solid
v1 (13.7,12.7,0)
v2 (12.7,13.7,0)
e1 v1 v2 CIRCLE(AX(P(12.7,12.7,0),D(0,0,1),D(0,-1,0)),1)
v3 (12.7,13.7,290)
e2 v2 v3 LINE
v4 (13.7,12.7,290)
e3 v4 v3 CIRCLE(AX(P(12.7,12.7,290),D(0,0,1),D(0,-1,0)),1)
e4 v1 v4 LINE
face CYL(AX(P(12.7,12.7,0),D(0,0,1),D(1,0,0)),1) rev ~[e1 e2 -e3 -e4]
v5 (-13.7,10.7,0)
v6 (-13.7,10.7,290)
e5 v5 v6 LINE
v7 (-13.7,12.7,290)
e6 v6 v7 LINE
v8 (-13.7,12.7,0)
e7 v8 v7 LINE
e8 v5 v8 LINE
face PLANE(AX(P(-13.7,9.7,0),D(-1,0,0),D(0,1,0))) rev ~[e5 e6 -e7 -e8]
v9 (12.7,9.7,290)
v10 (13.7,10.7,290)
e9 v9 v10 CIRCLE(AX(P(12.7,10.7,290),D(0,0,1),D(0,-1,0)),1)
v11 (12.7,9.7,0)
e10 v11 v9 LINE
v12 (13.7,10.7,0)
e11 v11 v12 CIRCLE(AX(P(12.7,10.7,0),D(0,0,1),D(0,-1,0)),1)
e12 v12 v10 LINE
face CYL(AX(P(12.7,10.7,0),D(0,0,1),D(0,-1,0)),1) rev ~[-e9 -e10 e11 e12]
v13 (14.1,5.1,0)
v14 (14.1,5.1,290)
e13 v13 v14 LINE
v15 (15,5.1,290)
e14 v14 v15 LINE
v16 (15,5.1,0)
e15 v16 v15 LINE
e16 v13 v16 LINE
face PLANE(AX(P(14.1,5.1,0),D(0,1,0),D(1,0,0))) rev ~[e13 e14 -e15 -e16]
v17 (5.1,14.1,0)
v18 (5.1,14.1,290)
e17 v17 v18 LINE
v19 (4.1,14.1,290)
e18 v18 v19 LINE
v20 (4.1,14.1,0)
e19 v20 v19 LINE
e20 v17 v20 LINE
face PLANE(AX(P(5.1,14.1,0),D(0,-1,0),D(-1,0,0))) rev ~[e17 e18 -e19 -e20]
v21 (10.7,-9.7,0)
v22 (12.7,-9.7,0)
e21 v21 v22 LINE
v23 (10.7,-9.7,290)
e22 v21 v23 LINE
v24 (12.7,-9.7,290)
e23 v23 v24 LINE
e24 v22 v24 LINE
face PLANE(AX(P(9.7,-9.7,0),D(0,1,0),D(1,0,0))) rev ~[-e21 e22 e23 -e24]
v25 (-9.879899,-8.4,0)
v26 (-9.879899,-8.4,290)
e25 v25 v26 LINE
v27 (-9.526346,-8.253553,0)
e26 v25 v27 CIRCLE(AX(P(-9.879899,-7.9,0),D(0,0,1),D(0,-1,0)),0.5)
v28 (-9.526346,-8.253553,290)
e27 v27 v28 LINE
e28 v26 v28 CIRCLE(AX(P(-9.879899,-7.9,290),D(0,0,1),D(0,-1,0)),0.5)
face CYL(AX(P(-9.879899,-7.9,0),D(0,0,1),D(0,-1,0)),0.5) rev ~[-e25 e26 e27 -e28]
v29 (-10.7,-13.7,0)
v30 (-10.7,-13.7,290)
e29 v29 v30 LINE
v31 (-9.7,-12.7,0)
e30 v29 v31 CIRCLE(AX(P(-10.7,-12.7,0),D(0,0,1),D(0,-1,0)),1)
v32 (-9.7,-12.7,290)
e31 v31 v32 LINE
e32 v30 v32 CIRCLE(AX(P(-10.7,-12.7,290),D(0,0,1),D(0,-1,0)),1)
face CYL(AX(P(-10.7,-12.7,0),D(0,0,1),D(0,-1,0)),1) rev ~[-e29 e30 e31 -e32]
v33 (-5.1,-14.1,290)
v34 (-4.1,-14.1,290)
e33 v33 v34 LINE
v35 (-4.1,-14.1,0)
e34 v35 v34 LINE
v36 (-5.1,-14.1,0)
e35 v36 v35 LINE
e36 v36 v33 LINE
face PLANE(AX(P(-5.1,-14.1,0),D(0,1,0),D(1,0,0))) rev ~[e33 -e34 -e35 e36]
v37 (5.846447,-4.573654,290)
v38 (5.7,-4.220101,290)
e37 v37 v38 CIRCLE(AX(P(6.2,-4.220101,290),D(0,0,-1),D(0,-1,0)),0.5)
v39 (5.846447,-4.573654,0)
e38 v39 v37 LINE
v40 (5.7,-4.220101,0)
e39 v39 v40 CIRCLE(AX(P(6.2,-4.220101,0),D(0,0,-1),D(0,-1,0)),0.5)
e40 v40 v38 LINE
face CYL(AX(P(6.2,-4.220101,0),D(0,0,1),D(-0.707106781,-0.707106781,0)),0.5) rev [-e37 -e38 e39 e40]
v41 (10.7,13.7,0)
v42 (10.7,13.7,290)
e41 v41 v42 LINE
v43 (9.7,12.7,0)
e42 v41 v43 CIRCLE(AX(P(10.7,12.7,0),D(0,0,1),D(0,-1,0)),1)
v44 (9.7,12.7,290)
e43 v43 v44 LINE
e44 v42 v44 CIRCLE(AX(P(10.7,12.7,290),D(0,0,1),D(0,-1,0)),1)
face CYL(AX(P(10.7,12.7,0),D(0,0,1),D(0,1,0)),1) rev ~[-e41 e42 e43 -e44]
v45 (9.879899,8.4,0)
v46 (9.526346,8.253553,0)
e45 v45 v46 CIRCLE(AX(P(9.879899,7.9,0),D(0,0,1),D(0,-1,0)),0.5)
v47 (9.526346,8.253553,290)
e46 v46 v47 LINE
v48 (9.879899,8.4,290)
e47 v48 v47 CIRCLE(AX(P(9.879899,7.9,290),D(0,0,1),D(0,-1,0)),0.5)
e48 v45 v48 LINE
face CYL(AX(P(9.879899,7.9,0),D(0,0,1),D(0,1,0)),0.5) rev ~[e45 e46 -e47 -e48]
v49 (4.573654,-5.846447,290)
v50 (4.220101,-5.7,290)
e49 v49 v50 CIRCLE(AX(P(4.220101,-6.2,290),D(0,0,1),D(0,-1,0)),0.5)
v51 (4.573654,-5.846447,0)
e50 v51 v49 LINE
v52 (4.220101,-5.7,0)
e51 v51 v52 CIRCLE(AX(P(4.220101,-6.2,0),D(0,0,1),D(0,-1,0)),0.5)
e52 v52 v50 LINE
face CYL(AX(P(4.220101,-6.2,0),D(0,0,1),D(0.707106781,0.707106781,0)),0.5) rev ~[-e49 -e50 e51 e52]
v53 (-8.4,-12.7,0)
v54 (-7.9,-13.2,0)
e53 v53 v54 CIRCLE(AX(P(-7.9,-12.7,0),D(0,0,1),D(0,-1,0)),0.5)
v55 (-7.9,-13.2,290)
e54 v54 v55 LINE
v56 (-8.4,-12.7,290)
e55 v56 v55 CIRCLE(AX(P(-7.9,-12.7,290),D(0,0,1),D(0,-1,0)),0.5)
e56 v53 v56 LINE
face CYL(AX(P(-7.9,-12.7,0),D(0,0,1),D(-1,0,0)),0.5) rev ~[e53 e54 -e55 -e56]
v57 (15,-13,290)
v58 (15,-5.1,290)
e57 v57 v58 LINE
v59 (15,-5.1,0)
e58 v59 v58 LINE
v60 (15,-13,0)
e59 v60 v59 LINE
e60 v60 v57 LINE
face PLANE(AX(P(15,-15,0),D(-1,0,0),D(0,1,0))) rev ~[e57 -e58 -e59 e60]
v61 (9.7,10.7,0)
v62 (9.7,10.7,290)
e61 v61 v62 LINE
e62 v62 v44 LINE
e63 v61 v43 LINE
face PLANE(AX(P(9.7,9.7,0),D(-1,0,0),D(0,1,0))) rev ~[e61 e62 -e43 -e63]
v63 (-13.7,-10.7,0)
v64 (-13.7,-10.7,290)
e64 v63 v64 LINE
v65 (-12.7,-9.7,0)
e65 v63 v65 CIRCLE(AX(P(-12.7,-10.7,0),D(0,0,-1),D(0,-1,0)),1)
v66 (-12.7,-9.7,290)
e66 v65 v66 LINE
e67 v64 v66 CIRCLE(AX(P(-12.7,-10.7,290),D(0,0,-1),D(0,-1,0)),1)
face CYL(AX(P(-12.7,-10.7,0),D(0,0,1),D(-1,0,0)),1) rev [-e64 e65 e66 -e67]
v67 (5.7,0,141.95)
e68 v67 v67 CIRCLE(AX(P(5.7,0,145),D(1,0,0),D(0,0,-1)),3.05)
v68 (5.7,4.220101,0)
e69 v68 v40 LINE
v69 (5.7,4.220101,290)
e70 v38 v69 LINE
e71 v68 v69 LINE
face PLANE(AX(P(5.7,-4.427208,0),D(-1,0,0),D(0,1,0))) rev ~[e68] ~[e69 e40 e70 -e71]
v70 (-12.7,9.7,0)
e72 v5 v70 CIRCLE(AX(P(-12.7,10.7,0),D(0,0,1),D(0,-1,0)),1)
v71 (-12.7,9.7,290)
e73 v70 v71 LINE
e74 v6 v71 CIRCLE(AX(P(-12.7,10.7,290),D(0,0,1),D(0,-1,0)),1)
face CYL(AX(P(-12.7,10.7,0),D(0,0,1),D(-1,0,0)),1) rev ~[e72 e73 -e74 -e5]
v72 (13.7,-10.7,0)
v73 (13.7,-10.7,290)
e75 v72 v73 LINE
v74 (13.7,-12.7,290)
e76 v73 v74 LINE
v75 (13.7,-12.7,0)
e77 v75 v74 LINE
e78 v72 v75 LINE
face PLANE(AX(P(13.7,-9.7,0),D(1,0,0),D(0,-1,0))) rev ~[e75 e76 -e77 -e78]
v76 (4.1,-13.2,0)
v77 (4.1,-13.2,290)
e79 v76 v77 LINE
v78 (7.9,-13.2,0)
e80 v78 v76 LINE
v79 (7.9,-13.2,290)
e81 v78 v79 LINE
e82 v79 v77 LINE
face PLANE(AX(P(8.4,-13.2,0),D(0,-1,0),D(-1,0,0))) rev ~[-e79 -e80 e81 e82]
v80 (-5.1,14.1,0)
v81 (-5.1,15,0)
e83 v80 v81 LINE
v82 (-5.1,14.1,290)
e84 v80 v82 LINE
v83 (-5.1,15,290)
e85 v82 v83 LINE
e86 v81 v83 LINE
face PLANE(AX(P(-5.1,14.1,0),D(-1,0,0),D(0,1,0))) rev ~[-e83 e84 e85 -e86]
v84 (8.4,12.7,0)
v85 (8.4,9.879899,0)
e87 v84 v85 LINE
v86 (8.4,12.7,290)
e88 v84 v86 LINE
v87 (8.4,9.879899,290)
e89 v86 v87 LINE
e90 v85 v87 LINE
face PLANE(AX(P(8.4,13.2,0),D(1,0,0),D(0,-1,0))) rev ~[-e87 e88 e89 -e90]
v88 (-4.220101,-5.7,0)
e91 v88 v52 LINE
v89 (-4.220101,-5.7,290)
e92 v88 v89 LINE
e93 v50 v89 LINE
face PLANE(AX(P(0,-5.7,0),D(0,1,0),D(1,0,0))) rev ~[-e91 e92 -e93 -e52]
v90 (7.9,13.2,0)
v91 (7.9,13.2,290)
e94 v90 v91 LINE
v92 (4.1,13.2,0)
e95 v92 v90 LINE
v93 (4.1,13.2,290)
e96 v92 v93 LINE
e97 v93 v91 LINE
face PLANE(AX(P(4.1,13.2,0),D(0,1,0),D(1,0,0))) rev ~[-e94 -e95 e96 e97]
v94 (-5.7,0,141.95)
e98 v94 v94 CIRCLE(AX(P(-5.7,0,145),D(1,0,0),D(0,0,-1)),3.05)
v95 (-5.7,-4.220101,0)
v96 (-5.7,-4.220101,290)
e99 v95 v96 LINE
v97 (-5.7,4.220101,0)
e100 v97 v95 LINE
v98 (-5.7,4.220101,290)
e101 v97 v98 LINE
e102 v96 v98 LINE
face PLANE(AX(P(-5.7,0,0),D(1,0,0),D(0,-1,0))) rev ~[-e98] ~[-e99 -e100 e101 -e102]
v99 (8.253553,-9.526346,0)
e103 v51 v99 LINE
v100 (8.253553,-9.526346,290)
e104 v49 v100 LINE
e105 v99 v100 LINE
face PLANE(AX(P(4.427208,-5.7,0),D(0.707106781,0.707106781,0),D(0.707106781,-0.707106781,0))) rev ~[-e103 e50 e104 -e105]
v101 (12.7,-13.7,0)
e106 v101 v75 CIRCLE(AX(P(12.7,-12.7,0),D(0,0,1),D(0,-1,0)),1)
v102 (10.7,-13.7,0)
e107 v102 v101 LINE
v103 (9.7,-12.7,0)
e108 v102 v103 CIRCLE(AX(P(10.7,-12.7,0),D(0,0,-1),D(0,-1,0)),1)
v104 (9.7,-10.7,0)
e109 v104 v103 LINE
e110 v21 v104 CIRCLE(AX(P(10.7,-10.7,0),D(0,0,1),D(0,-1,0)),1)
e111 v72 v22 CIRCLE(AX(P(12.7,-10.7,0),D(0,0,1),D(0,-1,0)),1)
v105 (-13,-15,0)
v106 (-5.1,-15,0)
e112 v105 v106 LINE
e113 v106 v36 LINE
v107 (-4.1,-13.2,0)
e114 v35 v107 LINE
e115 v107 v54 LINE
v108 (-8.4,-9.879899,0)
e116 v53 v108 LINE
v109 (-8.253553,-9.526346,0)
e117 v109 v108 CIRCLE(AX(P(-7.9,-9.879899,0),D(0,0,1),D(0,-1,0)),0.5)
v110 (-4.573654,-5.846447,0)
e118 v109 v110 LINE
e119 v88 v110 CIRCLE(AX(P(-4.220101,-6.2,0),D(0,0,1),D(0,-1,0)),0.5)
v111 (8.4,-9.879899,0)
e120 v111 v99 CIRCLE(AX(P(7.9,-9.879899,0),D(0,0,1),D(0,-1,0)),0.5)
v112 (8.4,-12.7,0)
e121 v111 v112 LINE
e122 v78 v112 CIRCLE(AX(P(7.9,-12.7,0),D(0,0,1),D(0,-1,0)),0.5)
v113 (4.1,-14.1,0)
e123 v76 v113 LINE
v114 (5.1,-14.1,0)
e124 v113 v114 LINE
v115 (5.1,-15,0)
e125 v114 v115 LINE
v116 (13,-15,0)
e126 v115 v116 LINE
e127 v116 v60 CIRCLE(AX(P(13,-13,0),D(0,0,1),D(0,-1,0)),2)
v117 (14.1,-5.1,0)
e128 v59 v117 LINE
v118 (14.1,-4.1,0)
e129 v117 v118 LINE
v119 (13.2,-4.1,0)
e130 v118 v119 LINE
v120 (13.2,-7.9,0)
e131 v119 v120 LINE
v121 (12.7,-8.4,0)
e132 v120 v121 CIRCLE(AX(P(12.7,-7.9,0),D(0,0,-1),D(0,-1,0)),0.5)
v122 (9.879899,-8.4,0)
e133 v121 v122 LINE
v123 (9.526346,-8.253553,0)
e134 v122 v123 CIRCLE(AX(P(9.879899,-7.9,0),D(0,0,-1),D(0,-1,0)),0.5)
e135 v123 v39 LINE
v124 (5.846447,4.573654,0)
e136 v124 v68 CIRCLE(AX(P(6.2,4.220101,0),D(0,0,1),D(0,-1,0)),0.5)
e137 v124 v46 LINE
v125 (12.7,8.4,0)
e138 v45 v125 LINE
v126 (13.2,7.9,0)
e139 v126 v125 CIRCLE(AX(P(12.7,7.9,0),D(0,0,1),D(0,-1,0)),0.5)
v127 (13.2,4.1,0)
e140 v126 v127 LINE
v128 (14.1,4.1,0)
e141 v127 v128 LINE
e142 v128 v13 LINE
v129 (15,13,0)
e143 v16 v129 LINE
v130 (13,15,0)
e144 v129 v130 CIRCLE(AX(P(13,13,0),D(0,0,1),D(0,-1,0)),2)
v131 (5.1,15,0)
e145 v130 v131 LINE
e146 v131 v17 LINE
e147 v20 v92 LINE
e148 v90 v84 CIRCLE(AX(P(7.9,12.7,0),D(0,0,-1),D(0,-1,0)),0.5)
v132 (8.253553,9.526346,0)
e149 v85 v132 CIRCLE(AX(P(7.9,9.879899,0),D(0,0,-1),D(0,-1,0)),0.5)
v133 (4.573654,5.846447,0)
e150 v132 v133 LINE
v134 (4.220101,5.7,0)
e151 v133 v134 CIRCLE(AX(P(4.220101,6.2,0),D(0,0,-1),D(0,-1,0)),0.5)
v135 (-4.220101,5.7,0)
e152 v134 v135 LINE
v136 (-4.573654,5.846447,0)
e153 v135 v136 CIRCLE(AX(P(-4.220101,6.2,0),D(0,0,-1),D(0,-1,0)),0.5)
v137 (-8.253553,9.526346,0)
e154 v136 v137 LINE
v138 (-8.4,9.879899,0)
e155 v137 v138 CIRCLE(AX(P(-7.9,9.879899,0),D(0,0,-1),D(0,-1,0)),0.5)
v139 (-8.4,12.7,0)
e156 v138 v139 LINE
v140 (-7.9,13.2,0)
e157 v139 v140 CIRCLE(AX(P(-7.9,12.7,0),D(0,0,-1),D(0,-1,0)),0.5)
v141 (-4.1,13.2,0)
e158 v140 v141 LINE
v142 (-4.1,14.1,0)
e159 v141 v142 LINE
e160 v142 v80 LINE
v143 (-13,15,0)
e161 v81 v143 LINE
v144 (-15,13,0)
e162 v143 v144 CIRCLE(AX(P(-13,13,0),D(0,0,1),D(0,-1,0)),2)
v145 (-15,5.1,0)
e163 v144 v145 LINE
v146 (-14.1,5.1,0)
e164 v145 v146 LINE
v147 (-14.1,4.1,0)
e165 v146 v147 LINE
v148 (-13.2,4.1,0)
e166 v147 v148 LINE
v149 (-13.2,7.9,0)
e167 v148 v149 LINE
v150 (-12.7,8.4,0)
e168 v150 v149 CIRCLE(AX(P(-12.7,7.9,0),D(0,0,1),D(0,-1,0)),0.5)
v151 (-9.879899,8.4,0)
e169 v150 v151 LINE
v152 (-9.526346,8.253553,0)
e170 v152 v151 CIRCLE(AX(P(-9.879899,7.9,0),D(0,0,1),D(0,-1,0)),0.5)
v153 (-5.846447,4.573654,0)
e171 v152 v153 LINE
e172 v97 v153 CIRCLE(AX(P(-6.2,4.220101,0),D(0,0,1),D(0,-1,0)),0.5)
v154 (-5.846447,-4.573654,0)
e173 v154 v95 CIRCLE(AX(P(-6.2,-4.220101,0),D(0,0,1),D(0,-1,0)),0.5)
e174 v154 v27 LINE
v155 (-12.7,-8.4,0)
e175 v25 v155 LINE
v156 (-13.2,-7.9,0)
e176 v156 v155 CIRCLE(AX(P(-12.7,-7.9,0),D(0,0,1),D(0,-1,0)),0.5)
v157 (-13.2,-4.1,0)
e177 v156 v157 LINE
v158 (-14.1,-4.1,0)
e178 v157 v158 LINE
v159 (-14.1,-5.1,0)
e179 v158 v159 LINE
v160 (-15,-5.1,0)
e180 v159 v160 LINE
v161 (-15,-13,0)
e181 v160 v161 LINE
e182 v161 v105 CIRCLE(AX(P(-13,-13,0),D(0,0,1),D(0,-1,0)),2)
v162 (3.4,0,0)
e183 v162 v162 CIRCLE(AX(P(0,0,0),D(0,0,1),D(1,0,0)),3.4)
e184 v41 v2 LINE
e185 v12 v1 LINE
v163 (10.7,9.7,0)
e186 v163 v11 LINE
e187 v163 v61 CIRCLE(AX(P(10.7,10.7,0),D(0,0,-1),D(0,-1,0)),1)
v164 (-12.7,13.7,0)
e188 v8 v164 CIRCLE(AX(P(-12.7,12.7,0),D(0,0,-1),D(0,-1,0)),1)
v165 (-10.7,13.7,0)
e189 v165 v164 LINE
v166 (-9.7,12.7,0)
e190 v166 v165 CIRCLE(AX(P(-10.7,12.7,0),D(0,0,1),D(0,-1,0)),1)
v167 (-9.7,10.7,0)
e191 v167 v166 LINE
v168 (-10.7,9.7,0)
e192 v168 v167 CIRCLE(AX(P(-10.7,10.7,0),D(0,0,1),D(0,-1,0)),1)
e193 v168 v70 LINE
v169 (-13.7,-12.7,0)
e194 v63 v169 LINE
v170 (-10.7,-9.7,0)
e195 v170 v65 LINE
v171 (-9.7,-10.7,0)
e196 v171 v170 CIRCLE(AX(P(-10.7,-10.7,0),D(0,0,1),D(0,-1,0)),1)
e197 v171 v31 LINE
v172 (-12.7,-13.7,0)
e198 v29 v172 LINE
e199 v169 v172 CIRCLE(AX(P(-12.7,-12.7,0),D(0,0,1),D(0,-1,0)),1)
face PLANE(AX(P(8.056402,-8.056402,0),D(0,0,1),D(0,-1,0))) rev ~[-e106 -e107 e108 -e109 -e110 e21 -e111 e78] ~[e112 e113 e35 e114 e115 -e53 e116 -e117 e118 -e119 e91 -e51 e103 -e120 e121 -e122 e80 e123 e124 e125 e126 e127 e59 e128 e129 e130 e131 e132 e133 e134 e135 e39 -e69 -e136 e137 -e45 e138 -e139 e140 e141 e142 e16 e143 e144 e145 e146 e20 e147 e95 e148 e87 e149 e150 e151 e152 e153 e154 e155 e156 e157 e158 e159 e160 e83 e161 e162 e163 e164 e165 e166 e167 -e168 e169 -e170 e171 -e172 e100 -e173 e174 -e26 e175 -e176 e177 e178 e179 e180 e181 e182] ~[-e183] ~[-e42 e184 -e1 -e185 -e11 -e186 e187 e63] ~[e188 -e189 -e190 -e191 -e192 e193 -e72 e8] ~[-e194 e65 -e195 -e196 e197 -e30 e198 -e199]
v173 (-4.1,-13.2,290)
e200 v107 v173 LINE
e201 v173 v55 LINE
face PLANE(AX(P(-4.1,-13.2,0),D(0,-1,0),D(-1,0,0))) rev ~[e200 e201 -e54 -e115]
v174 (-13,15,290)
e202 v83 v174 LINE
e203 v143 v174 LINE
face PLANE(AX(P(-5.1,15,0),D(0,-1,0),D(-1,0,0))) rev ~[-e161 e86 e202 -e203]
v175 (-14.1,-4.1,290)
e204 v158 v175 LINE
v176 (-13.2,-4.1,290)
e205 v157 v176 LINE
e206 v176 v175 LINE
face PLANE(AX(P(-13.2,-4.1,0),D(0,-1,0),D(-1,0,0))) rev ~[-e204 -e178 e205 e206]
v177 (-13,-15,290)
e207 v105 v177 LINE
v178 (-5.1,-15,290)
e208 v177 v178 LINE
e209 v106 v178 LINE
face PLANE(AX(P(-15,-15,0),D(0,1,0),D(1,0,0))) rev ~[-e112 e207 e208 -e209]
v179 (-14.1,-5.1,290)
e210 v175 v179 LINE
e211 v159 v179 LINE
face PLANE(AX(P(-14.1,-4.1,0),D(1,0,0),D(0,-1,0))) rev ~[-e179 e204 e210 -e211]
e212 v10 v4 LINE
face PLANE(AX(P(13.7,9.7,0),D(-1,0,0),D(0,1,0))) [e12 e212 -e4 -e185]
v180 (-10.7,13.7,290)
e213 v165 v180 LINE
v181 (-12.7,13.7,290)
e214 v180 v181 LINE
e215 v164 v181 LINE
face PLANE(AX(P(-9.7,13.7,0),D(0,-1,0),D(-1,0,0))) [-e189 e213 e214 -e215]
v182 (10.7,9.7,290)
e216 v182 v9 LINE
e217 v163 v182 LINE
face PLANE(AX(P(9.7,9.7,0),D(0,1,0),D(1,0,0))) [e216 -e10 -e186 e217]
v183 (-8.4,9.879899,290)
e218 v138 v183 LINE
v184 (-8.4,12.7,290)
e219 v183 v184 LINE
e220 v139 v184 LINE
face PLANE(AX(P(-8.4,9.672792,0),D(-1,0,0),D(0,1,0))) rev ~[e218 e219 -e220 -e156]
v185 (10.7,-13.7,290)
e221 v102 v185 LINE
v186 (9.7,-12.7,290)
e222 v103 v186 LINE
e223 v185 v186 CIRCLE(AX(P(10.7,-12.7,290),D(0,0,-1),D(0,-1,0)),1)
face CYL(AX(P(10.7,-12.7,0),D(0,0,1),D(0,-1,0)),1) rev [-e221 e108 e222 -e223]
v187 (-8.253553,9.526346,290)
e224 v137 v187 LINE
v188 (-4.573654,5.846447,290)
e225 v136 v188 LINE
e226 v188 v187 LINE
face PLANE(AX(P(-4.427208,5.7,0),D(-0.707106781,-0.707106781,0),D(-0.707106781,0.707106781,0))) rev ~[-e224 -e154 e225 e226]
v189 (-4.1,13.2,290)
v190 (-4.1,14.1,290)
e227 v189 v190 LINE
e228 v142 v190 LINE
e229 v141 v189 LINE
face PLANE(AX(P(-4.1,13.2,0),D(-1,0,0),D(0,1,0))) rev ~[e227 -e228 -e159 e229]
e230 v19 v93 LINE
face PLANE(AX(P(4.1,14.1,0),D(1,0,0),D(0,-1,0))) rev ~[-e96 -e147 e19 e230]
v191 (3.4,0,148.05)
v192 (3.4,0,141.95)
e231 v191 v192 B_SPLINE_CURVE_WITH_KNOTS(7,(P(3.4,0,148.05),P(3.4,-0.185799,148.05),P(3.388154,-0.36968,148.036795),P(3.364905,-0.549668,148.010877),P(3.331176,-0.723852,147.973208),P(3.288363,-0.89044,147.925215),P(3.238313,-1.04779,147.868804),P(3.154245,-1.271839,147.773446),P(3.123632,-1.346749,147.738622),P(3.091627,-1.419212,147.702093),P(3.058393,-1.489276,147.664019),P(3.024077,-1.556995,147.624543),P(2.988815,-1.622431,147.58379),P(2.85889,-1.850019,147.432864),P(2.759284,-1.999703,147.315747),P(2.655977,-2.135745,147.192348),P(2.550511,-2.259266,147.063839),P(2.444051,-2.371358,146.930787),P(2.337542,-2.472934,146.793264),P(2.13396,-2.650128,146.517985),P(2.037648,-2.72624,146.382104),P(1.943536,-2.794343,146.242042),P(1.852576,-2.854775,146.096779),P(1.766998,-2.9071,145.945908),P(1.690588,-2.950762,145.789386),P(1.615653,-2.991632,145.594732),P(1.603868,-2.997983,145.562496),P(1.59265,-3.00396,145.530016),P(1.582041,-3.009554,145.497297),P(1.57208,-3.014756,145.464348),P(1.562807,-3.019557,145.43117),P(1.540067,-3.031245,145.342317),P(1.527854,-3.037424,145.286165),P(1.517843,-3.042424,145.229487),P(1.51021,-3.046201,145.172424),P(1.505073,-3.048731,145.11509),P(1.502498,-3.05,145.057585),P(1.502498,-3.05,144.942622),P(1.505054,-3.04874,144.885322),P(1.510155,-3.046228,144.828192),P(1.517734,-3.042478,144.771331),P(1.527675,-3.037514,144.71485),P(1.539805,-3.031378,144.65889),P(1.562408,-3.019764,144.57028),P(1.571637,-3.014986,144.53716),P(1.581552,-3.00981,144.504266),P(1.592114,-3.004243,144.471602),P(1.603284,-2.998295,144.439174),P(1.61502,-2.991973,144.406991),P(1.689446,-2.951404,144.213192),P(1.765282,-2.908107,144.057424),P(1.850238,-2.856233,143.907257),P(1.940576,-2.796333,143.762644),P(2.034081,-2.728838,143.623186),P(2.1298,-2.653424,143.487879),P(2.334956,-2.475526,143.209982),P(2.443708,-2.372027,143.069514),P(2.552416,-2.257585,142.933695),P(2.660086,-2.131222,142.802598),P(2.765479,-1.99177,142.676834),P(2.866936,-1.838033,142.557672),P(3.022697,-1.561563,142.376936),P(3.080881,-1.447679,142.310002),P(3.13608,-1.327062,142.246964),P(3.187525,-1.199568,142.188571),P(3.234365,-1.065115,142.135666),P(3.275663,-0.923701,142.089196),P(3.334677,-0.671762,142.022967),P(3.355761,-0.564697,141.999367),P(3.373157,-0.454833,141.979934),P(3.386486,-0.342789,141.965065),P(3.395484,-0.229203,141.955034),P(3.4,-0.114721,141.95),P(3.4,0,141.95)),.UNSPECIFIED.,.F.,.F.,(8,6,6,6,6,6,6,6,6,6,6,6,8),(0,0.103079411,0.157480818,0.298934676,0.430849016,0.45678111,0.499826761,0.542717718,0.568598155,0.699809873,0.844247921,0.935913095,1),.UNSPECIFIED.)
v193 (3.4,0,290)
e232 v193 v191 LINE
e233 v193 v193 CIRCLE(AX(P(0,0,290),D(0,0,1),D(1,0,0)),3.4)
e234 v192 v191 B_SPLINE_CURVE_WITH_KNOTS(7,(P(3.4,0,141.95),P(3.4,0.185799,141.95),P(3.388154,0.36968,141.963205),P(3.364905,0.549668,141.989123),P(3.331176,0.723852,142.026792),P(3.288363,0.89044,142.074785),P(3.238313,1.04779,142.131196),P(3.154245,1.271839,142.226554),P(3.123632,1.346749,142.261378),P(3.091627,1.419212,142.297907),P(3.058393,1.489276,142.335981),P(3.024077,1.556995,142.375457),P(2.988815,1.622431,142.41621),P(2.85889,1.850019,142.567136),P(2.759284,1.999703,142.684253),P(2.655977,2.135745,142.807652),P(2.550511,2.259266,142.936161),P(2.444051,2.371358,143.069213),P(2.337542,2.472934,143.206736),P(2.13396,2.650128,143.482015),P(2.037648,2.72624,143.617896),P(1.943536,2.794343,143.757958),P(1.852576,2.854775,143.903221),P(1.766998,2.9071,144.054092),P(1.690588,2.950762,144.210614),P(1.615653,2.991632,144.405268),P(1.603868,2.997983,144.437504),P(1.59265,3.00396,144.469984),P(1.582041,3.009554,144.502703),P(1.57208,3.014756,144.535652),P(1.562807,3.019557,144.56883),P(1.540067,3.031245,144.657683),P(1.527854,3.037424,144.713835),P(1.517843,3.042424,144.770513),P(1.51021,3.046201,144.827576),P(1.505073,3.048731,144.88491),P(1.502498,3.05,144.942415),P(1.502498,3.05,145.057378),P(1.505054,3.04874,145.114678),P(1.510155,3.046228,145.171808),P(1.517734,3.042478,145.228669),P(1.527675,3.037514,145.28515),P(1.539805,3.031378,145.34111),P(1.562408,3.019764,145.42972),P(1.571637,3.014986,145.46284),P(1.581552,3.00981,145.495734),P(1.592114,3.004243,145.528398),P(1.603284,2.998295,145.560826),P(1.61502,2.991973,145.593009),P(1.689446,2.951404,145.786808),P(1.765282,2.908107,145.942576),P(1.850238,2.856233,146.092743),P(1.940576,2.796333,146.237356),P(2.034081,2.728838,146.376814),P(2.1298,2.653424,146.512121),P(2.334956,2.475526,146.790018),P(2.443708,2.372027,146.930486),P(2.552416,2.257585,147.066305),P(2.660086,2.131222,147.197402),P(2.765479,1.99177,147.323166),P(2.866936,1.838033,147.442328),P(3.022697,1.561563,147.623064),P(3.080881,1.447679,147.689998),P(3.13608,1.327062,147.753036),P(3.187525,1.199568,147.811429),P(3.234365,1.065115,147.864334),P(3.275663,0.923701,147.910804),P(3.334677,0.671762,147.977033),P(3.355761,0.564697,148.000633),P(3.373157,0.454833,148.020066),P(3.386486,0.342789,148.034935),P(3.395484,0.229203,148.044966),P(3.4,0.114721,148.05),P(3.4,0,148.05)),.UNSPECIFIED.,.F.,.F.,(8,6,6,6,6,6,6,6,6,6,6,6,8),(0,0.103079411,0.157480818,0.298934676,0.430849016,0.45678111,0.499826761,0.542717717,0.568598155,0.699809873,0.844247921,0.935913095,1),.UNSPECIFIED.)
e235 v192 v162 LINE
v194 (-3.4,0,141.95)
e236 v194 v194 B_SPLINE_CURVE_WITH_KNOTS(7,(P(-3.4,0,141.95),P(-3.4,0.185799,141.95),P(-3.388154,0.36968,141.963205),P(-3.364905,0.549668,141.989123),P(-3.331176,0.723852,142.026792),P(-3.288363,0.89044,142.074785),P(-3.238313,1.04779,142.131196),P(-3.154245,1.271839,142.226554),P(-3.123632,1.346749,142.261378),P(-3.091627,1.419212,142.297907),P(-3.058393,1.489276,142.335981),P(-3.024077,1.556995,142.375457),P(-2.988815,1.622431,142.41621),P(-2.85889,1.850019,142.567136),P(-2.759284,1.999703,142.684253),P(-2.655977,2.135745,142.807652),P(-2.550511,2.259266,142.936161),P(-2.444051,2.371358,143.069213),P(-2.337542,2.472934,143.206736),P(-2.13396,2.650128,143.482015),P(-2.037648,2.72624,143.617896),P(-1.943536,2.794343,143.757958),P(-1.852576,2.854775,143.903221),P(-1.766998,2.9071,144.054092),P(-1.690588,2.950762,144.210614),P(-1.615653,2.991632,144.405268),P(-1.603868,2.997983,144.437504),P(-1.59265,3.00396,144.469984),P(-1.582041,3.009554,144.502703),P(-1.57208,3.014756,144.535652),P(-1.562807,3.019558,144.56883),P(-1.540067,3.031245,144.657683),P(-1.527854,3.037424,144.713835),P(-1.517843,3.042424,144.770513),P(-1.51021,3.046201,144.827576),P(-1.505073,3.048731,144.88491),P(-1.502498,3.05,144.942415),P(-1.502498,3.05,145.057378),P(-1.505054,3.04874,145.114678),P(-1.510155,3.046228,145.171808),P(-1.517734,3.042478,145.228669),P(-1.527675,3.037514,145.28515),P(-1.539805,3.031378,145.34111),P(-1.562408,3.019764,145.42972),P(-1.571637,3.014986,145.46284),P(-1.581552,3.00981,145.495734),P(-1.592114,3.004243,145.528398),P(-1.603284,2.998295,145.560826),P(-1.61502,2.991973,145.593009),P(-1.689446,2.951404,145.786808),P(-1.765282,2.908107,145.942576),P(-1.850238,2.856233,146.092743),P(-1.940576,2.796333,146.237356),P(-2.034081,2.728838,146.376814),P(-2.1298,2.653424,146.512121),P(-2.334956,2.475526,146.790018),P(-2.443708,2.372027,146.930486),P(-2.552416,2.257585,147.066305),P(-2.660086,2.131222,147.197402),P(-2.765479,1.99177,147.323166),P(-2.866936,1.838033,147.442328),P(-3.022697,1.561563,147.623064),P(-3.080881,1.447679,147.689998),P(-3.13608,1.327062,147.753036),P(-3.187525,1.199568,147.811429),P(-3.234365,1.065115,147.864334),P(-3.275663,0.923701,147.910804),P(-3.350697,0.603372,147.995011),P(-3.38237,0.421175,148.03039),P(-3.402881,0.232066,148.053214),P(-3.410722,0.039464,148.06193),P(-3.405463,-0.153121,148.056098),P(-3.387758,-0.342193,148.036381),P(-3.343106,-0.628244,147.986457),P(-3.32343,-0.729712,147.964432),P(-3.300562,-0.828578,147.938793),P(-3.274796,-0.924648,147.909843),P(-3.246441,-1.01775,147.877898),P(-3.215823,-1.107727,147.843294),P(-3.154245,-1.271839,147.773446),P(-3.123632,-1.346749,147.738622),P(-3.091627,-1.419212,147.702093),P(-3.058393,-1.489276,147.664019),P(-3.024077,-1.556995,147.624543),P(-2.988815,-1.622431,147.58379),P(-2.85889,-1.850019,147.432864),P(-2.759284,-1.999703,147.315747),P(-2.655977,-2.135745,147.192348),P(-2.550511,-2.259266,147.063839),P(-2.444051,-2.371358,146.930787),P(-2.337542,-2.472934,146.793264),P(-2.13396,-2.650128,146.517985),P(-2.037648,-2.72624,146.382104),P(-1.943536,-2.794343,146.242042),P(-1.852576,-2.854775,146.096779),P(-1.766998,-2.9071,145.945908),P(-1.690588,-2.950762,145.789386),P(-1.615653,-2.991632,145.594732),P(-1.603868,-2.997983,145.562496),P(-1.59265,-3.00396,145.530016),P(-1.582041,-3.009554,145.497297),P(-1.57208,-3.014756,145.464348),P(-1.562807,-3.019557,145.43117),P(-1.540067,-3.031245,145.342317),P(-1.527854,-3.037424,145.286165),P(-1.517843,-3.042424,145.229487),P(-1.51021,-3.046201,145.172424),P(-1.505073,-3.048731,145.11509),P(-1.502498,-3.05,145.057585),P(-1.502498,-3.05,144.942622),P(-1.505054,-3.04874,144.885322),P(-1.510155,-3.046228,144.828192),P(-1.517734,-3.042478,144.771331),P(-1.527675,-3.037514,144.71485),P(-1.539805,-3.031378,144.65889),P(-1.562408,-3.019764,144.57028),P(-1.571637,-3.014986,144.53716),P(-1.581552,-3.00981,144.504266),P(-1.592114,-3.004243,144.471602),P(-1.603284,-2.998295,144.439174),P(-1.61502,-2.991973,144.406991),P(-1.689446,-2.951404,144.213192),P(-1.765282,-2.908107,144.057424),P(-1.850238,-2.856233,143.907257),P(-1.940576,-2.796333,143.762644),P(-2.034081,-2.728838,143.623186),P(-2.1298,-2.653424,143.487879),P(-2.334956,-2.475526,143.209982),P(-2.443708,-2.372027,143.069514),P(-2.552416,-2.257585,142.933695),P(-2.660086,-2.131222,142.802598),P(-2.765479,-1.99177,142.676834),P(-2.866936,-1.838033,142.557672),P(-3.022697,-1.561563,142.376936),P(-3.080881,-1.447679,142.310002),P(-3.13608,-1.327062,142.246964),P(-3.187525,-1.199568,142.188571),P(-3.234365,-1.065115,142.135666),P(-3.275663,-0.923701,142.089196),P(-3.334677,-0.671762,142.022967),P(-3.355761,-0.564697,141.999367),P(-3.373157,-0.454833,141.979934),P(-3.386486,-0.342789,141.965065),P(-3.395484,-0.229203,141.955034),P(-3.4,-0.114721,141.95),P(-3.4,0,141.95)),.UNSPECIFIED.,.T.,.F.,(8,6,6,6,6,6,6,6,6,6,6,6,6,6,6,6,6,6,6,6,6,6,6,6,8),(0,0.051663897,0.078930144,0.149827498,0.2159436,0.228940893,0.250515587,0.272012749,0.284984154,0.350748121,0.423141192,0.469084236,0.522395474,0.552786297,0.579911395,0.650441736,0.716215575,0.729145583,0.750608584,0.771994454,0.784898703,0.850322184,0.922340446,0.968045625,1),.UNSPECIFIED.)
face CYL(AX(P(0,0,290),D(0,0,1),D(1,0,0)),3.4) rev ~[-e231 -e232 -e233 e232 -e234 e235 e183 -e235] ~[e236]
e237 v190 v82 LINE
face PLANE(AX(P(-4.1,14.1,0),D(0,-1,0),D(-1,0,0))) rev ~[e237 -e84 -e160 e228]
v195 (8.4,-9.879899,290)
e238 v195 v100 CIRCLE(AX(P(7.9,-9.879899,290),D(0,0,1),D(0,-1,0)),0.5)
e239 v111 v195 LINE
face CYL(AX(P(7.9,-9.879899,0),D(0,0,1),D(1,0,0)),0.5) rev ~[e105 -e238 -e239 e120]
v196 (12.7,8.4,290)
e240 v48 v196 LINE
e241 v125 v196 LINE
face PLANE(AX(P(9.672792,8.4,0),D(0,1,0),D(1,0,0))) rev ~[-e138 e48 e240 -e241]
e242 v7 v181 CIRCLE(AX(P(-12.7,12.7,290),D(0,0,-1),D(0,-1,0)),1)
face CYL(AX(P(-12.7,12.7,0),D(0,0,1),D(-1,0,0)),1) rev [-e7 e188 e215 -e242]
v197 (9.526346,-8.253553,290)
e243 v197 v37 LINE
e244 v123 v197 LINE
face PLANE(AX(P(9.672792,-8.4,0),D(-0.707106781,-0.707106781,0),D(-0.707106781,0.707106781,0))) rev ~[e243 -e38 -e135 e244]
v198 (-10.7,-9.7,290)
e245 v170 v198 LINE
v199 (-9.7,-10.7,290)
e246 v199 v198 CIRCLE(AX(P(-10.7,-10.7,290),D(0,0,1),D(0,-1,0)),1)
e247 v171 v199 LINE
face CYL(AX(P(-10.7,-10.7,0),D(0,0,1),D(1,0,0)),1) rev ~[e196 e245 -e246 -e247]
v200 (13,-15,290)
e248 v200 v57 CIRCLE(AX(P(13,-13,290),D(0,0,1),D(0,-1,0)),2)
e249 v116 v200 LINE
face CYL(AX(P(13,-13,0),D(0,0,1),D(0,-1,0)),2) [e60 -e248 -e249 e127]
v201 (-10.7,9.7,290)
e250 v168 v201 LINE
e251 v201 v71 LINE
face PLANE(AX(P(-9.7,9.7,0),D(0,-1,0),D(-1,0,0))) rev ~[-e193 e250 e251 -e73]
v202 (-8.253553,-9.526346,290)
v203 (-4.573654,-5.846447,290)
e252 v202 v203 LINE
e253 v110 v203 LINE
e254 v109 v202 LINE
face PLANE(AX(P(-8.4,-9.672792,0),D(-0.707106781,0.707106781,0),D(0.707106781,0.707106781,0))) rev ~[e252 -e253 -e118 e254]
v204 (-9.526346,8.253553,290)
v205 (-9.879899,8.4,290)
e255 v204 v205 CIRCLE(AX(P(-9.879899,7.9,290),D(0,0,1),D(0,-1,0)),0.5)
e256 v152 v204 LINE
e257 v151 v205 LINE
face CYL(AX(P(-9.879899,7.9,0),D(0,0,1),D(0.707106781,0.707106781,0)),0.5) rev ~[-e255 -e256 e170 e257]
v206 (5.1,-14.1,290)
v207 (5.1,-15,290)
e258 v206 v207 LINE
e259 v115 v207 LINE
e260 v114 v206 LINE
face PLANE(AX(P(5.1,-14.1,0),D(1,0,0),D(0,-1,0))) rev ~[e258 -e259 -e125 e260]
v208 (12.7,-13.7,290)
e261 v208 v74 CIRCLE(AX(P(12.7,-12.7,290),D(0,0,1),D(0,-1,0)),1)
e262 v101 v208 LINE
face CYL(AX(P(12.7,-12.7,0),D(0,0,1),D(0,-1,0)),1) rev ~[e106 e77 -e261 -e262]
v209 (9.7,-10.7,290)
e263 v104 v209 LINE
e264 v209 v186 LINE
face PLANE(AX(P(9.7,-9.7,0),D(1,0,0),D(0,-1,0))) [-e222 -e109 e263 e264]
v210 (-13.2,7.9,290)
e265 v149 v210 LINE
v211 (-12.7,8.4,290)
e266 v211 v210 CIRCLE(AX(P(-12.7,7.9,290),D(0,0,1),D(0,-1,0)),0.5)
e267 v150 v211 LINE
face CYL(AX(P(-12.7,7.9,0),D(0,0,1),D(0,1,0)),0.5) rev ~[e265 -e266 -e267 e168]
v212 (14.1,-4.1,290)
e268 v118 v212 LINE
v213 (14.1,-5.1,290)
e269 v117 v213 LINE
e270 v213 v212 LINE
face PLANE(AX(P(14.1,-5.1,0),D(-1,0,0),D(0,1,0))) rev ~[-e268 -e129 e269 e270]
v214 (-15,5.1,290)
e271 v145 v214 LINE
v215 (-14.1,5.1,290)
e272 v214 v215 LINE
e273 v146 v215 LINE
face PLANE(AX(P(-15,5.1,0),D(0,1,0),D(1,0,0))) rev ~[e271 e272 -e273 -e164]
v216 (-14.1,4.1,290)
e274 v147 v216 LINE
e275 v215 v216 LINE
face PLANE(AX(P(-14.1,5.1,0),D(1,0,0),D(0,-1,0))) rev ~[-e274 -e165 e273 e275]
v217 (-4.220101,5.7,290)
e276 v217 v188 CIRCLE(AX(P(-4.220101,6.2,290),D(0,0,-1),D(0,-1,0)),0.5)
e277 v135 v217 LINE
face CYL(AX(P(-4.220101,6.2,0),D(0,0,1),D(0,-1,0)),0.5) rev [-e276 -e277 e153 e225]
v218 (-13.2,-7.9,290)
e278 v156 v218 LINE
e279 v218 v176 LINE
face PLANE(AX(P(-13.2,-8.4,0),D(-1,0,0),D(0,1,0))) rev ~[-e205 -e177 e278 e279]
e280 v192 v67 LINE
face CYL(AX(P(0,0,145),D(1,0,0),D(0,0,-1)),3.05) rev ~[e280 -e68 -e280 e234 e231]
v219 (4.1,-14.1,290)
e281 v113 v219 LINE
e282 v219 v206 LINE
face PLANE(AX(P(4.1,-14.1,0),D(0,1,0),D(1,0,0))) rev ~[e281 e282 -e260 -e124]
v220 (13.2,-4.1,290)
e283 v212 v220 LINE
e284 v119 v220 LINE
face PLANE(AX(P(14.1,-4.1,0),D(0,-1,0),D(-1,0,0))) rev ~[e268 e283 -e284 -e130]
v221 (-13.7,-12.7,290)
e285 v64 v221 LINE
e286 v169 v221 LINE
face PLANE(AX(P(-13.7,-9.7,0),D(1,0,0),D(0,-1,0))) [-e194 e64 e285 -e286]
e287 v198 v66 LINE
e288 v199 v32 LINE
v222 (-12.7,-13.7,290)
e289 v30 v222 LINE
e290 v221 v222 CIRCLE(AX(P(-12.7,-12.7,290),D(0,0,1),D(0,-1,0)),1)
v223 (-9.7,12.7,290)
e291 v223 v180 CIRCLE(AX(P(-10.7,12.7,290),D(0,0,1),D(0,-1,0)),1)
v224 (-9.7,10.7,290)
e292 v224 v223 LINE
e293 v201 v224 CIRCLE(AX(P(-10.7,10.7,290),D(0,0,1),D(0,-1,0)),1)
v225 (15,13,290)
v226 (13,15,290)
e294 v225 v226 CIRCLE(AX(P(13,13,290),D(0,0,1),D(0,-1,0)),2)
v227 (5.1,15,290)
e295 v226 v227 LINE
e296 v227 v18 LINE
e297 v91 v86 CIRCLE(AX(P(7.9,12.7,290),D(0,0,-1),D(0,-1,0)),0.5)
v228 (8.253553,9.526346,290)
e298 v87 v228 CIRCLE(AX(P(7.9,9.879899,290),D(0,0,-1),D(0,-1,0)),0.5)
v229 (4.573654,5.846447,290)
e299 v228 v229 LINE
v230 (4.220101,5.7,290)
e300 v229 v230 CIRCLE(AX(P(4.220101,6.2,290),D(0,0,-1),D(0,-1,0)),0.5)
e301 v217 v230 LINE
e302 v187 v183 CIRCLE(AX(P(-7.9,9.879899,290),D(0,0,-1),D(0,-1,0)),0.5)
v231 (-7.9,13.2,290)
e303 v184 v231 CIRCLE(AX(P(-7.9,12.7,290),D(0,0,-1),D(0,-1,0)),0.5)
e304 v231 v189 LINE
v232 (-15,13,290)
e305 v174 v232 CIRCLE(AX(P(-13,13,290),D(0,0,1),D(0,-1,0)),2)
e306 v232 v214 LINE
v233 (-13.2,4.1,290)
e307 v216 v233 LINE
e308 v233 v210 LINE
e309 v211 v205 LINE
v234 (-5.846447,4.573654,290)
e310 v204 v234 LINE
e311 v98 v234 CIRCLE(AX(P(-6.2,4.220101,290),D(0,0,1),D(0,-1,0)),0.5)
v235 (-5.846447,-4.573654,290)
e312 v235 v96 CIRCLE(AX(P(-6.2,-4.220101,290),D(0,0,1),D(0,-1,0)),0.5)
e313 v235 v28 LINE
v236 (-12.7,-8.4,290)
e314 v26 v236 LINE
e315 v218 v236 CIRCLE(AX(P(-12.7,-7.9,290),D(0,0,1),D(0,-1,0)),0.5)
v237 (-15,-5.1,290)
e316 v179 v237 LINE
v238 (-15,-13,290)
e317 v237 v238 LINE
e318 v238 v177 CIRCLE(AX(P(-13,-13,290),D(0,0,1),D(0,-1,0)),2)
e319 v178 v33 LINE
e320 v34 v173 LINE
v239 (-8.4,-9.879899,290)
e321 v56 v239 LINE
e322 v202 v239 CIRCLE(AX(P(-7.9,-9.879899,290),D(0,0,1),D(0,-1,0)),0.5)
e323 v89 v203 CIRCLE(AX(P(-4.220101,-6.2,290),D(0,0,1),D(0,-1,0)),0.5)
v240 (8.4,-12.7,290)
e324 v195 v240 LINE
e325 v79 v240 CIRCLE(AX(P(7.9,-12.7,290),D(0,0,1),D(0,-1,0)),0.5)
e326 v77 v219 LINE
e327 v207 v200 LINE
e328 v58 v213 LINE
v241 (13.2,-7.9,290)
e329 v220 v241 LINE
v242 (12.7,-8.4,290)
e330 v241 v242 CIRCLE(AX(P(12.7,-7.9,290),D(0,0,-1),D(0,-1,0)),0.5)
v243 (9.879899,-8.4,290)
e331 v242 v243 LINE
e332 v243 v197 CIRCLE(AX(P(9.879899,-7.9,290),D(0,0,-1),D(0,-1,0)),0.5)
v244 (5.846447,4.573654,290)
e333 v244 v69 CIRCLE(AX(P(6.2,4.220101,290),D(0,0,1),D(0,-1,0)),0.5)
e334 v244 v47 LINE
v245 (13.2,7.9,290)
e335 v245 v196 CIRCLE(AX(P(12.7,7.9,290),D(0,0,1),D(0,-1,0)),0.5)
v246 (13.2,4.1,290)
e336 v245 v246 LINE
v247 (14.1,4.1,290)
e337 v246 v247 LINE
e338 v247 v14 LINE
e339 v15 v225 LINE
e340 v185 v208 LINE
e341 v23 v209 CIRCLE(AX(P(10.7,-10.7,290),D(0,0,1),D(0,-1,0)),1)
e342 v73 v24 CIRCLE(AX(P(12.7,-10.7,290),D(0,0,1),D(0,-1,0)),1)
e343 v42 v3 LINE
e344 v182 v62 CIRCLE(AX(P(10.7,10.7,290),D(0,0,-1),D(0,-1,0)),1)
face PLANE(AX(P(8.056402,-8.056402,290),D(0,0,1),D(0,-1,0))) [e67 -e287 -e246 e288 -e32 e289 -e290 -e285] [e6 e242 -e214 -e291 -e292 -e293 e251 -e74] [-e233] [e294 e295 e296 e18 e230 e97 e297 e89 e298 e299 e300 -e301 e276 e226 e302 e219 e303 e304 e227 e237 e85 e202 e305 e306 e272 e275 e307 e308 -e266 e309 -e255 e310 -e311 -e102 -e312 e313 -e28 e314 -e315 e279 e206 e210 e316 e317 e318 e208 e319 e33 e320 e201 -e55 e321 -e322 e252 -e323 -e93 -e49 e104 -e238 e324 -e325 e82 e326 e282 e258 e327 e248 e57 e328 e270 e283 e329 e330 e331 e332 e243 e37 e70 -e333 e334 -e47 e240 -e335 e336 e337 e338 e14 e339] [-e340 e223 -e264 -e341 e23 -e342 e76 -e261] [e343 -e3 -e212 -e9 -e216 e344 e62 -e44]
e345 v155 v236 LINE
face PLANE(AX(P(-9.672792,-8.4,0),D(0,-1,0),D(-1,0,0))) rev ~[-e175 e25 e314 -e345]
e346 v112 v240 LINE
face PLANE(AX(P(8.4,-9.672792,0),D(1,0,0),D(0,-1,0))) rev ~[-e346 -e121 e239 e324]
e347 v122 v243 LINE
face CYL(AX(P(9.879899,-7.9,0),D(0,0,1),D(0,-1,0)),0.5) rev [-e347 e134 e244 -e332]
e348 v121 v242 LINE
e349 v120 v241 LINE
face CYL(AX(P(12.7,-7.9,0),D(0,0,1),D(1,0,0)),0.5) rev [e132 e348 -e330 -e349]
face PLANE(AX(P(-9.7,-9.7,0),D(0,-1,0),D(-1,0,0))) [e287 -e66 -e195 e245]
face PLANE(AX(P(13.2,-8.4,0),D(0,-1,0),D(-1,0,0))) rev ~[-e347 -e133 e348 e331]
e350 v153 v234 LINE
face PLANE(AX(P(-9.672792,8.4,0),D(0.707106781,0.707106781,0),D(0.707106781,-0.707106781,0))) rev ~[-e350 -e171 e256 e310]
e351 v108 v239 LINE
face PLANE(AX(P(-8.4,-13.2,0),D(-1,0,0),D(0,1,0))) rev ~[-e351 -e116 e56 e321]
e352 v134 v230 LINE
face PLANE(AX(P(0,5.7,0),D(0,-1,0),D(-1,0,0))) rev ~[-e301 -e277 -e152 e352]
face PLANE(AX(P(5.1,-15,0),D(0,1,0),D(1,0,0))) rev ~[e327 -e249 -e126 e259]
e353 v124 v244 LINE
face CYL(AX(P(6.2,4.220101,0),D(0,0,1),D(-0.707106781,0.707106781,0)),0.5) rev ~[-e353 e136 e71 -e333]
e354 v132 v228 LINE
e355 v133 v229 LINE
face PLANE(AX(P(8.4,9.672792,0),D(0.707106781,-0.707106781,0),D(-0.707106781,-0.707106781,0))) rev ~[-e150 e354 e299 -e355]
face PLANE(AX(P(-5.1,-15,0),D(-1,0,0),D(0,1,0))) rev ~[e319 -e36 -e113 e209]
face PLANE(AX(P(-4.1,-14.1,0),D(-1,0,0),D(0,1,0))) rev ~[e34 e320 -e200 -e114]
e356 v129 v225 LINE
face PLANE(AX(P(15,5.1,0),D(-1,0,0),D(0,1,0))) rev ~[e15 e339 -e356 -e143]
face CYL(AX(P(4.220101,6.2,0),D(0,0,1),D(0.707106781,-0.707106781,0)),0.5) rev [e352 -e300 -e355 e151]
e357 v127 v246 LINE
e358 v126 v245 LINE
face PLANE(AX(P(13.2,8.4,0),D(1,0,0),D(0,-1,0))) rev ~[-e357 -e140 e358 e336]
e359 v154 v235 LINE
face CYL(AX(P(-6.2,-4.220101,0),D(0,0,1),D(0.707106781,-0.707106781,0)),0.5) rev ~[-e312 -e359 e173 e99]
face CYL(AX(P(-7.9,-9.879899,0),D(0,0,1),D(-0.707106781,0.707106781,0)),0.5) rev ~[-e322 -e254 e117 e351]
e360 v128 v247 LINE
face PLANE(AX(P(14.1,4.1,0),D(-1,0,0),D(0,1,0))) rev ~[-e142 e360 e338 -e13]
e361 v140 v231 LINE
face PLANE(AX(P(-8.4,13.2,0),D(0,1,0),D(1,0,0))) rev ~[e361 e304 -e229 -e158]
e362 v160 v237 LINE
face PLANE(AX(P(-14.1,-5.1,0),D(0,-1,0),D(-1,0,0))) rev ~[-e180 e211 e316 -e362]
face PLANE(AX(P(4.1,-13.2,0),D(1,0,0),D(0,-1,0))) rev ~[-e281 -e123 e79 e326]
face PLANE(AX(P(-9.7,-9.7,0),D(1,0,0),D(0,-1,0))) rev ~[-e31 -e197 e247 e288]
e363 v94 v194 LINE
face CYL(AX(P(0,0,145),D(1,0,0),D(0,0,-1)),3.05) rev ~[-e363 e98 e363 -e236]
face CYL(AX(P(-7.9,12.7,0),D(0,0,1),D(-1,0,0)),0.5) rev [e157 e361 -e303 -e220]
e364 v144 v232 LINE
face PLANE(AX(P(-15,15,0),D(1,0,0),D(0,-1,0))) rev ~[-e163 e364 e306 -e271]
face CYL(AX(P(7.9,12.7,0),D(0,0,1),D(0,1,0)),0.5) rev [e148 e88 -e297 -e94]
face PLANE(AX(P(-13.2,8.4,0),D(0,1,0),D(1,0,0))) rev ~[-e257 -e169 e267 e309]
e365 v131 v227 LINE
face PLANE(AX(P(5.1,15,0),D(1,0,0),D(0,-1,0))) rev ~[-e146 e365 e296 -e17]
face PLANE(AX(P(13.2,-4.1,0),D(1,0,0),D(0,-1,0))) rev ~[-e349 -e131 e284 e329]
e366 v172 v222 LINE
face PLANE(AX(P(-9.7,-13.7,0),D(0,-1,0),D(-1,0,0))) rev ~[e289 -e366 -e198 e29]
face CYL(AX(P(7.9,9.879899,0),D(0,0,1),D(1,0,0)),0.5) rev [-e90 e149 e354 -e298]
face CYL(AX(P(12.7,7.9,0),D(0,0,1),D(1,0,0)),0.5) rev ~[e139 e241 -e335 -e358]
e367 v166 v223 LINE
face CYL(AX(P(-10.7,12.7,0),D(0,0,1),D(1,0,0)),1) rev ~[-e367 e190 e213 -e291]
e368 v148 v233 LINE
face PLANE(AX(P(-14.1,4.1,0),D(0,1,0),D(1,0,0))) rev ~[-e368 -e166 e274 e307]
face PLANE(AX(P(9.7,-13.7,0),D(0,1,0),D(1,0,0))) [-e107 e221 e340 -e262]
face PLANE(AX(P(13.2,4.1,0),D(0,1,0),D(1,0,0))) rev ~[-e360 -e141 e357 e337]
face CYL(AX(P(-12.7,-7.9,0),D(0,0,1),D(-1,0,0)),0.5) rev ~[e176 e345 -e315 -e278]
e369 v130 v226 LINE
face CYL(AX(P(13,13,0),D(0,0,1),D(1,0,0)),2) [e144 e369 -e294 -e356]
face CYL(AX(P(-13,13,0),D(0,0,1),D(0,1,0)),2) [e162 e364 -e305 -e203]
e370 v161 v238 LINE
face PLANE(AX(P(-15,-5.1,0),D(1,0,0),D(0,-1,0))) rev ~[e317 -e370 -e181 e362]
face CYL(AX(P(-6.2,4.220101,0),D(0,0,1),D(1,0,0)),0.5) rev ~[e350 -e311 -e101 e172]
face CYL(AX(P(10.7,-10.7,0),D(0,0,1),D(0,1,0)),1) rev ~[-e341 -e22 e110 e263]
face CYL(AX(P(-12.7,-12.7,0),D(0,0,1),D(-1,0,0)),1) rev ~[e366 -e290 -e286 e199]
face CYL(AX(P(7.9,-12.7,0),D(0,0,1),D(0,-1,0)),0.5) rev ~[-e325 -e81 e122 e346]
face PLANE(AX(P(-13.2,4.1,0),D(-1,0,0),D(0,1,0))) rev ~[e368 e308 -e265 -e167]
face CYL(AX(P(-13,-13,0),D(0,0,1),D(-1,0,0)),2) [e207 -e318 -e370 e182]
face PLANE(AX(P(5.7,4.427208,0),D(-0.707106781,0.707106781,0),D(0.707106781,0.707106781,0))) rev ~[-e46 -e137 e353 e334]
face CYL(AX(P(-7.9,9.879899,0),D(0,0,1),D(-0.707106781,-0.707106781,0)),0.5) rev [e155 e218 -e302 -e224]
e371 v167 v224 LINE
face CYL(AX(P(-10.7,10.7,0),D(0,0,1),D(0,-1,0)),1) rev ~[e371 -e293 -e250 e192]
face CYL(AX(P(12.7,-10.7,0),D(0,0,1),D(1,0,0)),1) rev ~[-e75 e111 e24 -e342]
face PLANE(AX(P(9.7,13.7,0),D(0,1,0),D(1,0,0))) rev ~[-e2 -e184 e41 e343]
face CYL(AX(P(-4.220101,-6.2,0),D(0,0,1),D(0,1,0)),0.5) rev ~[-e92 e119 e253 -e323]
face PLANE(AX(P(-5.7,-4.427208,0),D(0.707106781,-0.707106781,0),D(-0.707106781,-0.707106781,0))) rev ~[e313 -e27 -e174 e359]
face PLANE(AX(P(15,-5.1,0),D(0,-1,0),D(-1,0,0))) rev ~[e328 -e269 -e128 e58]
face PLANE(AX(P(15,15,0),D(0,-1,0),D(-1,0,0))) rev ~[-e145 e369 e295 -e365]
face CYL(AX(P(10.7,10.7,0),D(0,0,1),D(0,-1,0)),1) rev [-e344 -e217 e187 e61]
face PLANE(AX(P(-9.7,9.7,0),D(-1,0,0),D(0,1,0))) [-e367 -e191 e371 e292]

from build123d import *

# Parameters (mm, degrees)
SKETCH_1_W                       = 4
SKETCH_1_H                       = 4
EXTRUDE_1_DEPTH                  = 290
FILLET_1_R                       = 1
FILLET_2_R                       = 2
FILLET_3_R                       = 0.5
PATTERN_CIRCULAR_1_COUNT         = 4
FILLET_1_OF_PATTERN_CIRCULAR_1_R = 1
FILLET_2_OF_PATTERN_CIRCULAR_1_R = 2
FILLET_3_OF_PATTERN_CIRCULAR_1_R = 0.5
SKETCH_2_R                       = 3.4
CUT_EXTRUDE_1_DEPTH              = 291
SKETCH_3_R                       = 3.05
CUT_EXTRUDE_2_DEPTH              = 10


with BuildPart() as part:
    # 草图1 → 凸台-拉伸1 (new body)
    with BuildSketch(Plane.XY):
        Polygon((5.7, 0), (5.7, 4.427207794), (9.672792206, 8.4), (13.2, 8.4), (13.2, 4.1), (14.1, 4.1), (14.1, 5.1), (15, 5.1), (15, 15), (5.1, 15), (5.1, 14.1), (4.1, 14.1), (4.1, 13.2), (8.4, 13.2), (8.4, 9.672792206), (4.427207794, 5.7), (0, 5.7), (0, 0), align=None)
        with Locations((11.7, 11.7)):
            Rectangle(SKETCH_1_W, SKETCH_1_H, mode=Mode.SUBTRACT)
    extrude_1 = extrude(amount=EXTRUDE_1_DEPTH)

    # 圆角1
    fillet_1_edges = [part.edges().sort_by_distance(p)[0] for p in [
        (13.7, 9.7, 145),
        (13.7, 13.7, 145),
        (9.7, 13.7, 145),
        (9.7, 9.7, 145),
    ]]
    fillet(fillet_1_edges, radius=FILLET_1_R)

    # 圆角2
    fillet_2_edges = [part.edges().sort_by_distance(p)[0] for p in [
        (15, 15, 145),
    ]]
    fillet(fillet_2_edges, radius=FILLET_2_R)

    # 圆角3
    fillet_3_edges = [part.edges().sort_by_distance(p)[0] for p in [
        (4.427207794, 5.7, 145),
        (8.4, 9.672792206, 145),
        (8.4, 13.2, 145),
        (13.2, 8.4, 145),
        (9.672792206, 8.4, 145),
        (5.7, 4.427207794, 145),
    ]]
    fillet(fillet_3_edges, radius=FILLET_3_R)

    # 阵列(圆周)1: 凸台-拉伸1 ×4 about axis
    pattern_circular_1_axis = Axis((0, 0, 0), (0, 0, 1))
    for i in range(1, PATTERN_CIRCULAR_1_COUNT):
        add(extrude_1.rotate(pattern_circular_1_axis, i * 360 / PATTERN_CIRCULAR_1_COUNT))

    # 圆角1 of 阵列(圆周)1
    fillet_1_of_pattern_circular_1_edges = [part.edges().sort_by_distance(p)[0] for p in [
        (-9.7, 13.7, 145),
        (-13.7, 13.7, 145),
        (-13.7, 9.7, 145),
        (-9.7, 9.7, 145),
        (-13.7, -9.7, 145),
        (-13.7, -13.7, 145),
        (-9.7, -13.7, 145),
        (-9.7, -9.7, 145),
        (9.7, -13.7, 145),
        (13.7, -13.7, 145),
        (13.7, -9.7, 145),
        (9.7, -9.7, 145),
    ]]
    fillet(fillet_1_of_pattern_circular_1_edges, radius=FILLET_1_OF_PATTERN_CIRCULAR_1_R)

    # 圆角2 of 阵列(圆周)1
    fillet_2_of_pattern_circular_1_edges = [part.edges().sort_by_distance(p)[0] for p in [
        (-15, 15, 145),
        (-15, -15, 145),
        (15, -15, 145),
    ]]
    fillet(fillet_2_of_pattern_circular_1_edges, radius=FILLET_2_OF_PATTERN_CIRCULAR_1_R)

    # 圆角3 of 阵列(圆周)1
    fillet_3_of_pattern_circular_1_edges = [part.edges().sort_by_distance(p)[0] for p in [
        (-5.7, 4.427207794, 145),
        (-9.672792206, 8.4, 145),
        (-13.2, 8.4, 145),
        (-8.4, 13.2, 145),
        (-8.4, 9.672792206, 145),
        (-4.427207794, 5.7, 145),
        (-4.427207794, -5.7, 145),
        (-8.4, -9.672792206, 145),
        (-8.4, -13.2, 145),
        (-13.2, -8.4, 145),
        (-9.672792206, -8.4, 145),
        (-5.7, -4.427207794, 145),
        (5.7, -4.427207794, 145),
        (9.672792206, -8.4, 145),
        (13.2, -8.4, 145),
        (8.4, -13.2, 145),
        (8.4, -9.672792206, 145),
        (4.427207794, -5.7, 145),
    ]]
    fillet(fillet_3_of_pattern_circular_1_edges, radius=FILLET_3_OF_PATTERN_CIRCULAR_1_R)

    # 草图2 → 切除-拉伸1 (cut, through all)
    with BuildSketch(Plane.XY.offset(290)):
        Circle(SKETCH_2_R)
    extrude(amount=-CUT_EXTRUDE_1_DEPTH, mode=Mode.SUBTRACT)

    # 草图3 → 切除-拉伸2 (cut, symmetric)
    with BuildSketch(Plane(origin=(0, 0, 0), x_dir=(0, 0, -1), z_dir=(1, 0, 0))):
        with Locations((-145, 0)):
            Circle(SKETCH_3_R)
    extrude(amount=CUT_EXTRUDE_2_DEPTH, both=True, mode=Mode.SUBTRACT)


solid = part.part
